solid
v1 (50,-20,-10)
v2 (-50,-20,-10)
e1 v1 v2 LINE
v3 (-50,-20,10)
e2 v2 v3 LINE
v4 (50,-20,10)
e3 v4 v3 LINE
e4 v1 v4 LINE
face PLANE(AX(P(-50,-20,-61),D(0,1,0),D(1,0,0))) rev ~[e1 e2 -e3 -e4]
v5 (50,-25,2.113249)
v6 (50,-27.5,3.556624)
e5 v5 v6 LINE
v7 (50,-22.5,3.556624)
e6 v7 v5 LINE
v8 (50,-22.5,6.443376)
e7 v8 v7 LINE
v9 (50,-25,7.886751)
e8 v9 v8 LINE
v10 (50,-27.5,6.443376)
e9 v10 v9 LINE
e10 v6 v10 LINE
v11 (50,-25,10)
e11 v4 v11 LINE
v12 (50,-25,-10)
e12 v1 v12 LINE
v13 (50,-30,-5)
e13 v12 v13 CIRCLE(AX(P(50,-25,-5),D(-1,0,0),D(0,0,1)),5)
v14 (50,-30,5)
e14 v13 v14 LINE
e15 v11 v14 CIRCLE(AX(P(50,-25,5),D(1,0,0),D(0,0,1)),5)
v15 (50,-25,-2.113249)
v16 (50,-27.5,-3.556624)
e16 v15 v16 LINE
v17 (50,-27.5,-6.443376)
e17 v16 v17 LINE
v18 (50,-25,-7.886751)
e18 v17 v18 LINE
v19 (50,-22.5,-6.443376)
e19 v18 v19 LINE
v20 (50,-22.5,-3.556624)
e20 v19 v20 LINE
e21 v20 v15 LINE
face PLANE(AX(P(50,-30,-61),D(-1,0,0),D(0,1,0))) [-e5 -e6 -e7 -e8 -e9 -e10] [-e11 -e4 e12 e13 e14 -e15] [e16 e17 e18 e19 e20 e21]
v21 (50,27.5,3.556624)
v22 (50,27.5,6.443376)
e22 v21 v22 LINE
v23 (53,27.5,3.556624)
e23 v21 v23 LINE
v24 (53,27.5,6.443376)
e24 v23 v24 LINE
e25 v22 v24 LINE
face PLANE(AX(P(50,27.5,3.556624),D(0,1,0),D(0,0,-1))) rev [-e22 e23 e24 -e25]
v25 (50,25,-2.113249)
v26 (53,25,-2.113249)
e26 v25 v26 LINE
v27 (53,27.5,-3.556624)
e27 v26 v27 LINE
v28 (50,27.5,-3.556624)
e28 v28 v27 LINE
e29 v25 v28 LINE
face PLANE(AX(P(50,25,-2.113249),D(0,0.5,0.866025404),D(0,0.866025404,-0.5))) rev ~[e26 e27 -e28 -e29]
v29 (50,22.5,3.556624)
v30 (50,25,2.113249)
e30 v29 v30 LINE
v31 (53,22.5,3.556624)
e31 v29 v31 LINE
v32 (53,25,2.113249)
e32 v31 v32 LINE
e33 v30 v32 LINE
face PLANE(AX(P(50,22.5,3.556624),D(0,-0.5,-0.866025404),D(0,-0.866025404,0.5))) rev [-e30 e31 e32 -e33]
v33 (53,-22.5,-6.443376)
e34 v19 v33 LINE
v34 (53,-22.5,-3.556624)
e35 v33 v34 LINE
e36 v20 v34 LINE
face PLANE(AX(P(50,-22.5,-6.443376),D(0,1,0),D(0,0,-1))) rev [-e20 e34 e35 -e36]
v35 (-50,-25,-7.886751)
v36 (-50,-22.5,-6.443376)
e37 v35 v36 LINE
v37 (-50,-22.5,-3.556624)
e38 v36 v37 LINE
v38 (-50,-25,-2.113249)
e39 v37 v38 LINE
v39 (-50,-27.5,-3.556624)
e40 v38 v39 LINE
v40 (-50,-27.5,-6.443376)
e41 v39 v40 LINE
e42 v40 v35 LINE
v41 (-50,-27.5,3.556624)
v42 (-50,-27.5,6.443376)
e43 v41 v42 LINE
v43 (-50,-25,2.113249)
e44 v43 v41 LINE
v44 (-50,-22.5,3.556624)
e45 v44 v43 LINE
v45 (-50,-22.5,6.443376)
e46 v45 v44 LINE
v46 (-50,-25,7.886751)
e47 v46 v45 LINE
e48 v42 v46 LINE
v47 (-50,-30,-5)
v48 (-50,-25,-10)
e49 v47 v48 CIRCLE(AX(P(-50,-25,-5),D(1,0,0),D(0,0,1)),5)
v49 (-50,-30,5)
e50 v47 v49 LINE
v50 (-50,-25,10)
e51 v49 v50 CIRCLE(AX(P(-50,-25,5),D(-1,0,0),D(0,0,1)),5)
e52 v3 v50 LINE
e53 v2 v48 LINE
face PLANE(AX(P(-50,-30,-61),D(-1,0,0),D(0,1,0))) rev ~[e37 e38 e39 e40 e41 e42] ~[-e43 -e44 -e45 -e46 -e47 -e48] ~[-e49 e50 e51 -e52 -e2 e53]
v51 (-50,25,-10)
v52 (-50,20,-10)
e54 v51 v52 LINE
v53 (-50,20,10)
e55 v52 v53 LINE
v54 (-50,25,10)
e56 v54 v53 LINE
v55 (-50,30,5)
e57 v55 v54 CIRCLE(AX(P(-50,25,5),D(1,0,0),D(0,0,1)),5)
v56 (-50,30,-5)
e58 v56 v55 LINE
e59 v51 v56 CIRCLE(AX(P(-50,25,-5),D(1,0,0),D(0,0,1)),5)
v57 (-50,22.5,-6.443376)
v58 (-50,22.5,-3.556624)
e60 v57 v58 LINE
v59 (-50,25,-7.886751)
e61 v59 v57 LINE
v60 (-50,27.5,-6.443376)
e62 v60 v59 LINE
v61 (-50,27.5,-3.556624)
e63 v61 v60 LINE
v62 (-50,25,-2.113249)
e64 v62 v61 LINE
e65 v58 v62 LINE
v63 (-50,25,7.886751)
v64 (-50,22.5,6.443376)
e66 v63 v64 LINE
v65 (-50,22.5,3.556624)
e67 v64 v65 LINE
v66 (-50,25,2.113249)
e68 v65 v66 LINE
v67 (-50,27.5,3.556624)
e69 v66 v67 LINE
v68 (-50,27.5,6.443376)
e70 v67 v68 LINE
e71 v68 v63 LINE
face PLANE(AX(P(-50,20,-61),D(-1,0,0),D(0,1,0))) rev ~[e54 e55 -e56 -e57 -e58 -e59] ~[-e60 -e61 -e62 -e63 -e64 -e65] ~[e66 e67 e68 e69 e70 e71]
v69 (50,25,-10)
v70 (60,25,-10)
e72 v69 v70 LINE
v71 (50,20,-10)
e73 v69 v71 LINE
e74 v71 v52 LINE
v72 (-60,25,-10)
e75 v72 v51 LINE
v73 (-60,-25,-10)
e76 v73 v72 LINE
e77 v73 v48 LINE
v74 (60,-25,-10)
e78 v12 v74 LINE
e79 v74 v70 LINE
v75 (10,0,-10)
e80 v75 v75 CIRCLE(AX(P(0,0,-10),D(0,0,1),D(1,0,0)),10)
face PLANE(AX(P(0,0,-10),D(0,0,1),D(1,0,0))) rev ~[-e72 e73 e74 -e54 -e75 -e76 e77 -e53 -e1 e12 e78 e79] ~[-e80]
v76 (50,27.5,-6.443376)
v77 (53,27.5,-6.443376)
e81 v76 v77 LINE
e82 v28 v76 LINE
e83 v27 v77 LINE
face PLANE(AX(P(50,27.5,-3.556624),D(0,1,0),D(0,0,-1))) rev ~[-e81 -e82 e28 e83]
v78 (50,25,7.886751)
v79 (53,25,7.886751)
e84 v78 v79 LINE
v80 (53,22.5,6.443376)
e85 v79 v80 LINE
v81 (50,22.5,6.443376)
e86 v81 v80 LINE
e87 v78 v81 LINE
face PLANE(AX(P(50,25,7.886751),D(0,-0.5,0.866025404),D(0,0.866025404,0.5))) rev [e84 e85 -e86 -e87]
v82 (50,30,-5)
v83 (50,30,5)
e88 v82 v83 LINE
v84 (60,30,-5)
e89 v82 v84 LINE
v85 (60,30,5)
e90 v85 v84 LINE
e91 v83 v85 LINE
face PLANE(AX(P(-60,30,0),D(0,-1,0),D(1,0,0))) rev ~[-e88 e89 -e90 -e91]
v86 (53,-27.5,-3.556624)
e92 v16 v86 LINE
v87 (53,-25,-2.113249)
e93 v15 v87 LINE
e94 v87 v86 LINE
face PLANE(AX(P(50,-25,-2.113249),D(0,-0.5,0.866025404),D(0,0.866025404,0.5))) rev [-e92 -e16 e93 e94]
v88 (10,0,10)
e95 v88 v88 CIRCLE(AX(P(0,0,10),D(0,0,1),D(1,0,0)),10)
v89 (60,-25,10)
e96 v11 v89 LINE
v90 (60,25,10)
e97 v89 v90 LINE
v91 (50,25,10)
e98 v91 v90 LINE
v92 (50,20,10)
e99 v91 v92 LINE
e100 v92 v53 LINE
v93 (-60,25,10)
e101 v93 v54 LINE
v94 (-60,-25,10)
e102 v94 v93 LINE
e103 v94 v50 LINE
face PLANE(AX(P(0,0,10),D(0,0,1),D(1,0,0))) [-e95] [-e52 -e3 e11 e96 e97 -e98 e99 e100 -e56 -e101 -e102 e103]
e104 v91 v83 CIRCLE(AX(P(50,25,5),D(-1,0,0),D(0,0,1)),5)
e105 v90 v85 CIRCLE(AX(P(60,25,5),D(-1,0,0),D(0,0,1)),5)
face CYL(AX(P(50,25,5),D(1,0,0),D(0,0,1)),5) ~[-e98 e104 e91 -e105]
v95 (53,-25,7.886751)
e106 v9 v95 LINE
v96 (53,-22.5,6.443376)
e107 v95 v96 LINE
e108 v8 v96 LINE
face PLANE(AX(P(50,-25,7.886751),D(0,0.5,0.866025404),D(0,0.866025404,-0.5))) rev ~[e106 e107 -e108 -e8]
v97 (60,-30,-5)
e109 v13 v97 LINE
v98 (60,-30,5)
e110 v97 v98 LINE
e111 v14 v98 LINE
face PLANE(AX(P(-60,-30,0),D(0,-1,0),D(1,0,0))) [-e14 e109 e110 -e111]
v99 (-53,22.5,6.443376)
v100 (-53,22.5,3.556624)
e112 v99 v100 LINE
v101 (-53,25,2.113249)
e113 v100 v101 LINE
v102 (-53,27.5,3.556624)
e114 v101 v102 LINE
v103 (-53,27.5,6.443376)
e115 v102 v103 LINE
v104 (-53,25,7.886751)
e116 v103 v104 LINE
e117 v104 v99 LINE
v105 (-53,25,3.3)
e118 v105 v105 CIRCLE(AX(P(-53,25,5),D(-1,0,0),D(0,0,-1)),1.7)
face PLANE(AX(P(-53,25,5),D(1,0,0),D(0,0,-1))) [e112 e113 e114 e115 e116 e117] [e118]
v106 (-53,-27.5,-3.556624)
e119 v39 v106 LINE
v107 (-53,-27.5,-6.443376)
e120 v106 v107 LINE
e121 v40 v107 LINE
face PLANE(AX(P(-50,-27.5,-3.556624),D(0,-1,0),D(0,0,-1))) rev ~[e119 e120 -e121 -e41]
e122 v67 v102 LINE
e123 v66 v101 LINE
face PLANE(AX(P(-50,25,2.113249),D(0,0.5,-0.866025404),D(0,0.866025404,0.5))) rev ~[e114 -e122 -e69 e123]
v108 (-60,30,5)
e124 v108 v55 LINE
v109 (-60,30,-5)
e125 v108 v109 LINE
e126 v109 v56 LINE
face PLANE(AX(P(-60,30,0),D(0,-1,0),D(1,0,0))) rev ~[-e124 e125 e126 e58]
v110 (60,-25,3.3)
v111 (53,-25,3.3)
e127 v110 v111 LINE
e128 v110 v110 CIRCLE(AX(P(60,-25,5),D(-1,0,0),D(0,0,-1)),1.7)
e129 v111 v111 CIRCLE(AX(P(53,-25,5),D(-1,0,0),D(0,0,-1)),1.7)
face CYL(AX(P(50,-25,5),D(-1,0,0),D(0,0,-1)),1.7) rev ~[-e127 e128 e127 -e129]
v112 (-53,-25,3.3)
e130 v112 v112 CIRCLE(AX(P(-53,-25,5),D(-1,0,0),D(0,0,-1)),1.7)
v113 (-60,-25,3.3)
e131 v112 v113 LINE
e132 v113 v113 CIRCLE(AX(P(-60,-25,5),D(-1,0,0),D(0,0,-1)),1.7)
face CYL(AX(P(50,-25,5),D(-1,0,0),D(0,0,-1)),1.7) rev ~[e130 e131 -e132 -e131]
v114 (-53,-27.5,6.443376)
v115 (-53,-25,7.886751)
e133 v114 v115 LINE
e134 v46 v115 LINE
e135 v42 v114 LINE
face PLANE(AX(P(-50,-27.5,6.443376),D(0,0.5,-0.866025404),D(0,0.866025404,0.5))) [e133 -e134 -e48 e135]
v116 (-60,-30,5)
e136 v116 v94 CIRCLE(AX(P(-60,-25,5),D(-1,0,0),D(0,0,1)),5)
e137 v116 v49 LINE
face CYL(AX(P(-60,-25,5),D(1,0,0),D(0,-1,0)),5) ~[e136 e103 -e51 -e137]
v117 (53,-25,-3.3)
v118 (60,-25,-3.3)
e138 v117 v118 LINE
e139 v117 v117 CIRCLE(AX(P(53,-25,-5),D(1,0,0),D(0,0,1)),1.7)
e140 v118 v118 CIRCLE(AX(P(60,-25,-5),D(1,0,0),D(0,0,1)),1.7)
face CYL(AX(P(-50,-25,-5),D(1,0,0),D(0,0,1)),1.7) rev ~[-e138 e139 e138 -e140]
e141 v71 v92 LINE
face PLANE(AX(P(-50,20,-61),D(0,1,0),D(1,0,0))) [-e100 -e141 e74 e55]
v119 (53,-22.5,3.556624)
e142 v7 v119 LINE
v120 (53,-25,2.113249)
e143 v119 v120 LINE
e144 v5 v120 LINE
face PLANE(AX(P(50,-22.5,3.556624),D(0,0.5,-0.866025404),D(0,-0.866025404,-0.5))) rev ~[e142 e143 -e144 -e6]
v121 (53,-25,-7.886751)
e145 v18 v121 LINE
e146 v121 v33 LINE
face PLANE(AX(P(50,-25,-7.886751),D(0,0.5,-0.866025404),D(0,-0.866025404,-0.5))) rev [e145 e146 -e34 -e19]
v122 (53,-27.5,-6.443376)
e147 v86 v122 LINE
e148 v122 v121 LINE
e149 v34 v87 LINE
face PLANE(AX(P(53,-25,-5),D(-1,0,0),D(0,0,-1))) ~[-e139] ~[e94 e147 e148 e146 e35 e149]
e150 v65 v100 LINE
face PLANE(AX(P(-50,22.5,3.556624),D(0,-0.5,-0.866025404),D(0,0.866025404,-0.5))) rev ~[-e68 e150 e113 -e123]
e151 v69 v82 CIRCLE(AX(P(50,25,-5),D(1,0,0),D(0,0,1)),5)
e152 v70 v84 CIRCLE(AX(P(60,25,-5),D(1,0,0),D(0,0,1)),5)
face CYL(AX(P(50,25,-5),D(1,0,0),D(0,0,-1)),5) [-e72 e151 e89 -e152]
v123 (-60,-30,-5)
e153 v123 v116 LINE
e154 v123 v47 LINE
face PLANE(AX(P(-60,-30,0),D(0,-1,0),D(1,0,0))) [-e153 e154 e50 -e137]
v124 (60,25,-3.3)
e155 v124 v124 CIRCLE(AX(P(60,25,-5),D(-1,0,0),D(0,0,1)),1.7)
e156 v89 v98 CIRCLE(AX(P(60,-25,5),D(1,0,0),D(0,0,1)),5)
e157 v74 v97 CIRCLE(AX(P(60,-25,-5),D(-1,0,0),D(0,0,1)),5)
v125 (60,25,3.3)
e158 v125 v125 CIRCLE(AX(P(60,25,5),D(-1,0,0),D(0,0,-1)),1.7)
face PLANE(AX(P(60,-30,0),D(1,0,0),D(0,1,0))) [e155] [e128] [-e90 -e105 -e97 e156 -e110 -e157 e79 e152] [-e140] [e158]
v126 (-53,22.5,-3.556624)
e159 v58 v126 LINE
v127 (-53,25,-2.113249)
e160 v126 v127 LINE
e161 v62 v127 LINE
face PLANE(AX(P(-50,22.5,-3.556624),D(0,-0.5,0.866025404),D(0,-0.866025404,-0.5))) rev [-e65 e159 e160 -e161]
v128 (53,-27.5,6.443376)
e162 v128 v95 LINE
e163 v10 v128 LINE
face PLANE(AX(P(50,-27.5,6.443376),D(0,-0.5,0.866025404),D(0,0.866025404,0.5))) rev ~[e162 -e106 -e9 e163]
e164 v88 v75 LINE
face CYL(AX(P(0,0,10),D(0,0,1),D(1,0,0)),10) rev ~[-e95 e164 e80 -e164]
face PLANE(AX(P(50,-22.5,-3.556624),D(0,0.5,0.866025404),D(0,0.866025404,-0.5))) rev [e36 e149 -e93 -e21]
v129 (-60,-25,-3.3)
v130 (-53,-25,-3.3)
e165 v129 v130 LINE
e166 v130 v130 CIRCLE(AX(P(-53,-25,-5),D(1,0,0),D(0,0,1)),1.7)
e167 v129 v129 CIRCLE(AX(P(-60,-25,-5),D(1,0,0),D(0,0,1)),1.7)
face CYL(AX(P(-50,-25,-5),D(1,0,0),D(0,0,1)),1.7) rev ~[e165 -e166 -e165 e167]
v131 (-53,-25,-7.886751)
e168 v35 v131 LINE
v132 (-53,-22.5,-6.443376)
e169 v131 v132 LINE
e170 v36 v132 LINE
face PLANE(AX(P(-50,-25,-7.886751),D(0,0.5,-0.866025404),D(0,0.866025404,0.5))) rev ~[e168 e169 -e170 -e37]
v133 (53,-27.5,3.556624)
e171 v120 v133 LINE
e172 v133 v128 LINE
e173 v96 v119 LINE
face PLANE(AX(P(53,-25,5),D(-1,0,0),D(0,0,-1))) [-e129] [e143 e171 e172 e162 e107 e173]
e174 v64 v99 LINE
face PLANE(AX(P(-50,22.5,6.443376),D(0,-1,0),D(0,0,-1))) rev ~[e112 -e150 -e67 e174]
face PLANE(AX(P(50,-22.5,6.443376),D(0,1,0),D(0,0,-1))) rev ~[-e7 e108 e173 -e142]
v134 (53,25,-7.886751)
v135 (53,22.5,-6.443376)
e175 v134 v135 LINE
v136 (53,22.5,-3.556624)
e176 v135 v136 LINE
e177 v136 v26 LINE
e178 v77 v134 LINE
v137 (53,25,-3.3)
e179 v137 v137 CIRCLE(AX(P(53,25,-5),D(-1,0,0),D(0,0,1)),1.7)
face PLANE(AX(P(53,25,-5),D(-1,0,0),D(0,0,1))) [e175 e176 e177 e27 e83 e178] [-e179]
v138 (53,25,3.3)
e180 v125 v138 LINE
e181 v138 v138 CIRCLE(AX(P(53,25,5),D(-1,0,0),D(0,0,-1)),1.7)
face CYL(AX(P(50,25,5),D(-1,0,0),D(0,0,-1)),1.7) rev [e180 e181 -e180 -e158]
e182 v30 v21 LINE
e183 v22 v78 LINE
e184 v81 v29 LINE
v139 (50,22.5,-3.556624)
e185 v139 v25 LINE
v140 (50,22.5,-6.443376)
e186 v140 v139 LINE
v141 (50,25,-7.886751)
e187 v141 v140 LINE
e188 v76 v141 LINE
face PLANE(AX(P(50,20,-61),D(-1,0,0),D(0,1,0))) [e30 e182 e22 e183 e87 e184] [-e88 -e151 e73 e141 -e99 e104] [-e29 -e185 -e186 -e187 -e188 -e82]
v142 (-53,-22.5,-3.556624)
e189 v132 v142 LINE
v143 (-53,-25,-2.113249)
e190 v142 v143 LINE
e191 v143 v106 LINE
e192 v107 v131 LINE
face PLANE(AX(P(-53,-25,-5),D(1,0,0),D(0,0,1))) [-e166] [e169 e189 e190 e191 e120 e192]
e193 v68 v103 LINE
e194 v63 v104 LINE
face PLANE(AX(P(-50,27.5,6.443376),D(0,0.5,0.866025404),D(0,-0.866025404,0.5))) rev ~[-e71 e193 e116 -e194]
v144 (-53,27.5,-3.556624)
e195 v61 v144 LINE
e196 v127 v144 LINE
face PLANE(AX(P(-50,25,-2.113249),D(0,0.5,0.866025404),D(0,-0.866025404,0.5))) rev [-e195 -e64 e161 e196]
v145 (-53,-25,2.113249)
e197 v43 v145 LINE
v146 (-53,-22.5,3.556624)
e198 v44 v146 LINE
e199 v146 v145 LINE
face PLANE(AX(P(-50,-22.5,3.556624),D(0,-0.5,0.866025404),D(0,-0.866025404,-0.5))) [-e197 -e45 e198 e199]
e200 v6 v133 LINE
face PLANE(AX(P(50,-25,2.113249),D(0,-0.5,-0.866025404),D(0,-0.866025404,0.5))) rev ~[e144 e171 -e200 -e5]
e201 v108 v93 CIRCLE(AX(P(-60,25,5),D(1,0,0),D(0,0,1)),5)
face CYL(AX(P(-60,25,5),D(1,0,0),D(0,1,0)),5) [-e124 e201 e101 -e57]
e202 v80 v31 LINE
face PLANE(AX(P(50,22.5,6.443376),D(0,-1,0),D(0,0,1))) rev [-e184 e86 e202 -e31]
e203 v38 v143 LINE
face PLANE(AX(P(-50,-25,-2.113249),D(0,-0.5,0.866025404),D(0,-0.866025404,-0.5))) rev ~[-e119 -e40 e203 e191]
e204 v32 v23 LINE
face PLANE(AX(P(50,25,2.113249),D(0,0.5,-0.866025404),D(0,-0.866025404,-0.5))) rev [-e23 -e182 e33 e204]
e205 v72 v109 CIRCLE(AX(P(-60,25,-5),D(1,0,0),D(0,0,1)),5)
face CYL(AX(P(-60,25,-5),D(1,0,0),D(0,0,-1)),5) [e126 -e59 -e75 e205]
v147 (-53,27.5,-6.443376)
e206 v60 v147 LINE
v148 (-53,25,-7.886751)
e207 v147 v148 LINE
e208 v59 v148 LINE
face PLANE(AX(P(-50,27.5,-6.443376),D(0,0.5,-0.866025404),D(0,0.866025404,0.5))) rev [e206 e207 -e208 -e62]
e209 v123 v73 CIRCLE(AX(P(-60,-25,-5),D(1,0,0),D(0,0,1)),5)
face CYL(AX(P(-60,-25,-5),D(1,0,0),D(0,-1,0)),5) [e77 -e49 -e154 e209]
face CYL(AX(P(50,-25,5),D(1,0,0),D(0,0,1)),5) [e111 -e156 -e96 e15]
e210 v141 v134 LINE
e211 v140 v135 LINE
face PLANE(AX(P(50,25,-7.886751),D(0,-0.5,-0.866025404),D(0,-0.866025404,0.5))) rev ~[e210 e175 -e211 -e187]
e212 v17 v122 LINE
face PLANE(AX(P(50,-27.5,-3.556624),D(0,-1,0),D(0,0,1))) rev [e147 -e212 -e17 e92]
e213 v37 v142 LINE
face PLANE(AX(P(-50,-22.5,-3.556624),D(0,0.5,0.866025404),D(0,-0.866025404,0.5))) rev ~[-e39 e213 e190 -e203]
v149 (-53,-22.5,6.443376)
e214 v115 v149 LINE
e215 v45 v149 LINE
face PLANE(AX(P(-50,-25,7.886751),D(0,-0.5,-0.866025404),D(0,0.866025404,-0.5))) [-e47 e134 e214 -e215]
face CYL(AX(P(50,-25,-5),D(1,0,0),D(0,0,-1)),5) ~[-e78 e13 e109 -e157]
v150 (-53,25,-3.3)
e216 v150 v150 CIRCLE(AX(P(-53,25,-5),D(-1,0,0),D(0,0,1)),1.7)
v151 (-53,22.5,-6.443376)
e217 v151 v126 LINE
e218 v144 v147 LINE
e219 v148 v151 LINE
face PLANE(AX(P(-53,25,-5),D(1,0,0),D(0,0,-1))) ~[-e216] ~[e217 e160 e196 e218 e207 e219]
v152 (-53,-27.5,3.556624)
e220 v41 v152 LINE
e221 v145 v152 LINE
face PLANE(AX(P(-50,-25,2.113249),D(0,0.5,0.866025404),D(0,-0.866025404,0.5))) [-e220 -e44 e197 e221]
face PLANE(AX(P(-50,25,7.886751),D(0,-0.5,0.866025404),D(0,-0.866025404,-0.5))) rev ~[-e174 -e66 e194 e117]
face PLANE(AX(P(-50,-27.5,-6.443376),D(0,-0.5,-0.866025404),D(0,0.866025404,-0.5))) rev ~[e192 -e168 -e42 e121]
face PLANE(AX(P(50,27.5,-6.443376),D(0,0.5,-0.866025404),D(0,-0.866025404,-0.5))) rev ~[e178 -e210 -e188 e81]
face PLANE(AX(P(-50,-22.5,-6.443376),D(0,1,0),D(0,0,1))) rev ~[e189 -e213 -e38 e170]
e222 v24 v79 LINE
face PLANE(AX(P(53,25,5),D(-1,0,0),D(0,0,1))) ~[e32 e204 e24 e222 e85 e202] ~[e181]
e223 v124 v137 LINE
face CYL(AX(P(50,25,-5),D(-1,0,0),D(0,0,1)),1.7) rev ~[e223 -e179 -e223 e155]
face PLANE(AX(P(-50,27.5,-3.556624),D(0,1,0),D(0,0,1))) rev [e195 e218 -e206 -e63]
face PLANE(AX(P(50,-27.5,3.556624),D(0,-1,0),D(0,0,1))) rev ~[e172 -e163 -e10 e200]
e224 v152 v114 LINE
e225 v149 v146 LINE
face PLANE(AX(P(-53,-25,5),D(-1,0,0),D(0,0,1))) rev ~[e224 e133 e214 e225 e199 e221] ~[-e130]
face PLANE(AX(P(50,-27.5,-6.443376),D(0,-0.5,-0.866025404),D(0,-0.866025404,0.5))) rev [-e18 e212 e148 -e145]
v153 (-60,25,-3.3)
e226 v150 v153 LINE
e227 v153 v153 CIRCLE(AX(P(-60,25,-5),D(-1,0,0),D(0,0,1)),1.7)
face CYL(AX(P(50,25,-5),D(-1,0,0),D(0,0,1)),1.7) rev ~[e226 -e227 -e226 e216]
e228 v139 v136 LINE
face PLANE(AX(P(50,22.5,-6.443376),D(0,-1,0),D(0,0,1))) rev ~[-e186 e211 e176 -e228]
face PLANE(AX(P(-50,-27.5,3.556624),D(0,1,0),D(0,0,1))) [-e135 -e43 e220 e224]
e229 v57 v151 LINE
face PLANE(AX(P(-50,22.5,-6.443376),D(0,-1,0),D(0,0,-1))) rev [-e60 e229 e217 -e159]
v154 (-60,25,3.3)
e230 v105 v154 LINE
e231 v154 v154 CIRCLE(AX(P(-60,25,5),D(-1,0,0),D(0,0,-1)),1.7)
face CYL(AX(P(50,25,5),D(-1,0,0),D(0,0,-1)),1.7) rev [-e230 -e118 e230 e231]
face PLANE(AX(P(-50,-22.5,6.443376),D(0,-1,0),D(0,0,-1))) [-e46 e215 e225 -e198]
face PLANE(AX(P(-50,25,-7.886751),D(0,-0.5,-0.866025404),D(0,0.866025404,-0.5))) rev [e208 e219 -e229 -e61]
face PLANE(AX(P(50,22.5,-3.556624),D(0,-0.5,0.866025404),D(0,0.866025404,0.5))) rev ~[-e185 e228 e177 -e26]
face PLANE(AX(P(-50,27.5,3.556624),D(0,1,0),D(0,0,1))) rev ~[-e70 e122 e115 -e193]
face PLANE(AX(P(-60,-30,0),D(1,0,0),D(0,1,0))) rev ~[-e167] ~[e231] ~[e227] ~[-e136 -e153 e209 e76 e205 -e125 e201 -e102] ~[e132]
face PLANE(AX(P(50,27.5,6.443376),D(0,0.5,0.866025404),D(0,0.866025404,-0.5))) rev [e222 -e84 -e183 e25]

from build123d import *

# Parameters (mm, degrees)
SKETCH1_W                                  = 120
SKETCH1_H                                  = 60
BOSS_EXTRUDE1_DEPTH                        = 10
CUT_EXTRUDE1_DEPTH                         = 71
CUT_EXTRUDE1_DEPTH_BACK                    = 71
SKETCH2_W                                  = 100
SKETCH2_H                                  = 10
FILLET1_R                                  = 5
SKETCH4_R                                  = 1.7
CUT_EXTRUDE3_DEPTH                         = 115.455231423
CUT_EXTRUDE4_DEPTH                         = 3
MIRROR1_AT_THE_SECOND_PLANE_COPY_1_SKETC_R = 1.7
MIRROR1_AT_THE_SECOND_PLANE_COPY_1_DEPTH   = 115.455231423
MIRROR1_AT_THE_SECOND_PLANE_COPY_2_DEPTH   = 3
MIRROR2_COPY_1_SKETCH_R                    = 1.7
MIRROR2_COPY_1_DEPTH                       = 115.455231423
MIRROR2_COPY_2_DEPTH                       = 3
MIRROR2_COPY_3_SKETCH_R                    = 1.7
MIRROR2_COPY_3_DEPTH                       = 115.455231423
MIRROR2_COPY_4_DEPTH                       = 3
MIRROR2_COPY_5_SKETCH_R                    = 1.7
MIRROR2_COPY_5_DEPTH                       = 115.455231423
MIRROR2_COPY_6_DEPTH                       = 3
MIRROR2_COPY_7_SKETCH_R                    = 1.7
MIRROR2_COPY_7_DEPTH                       = 115.455231423
SKETCH6_R                                  = 10
CUT_EXTRUDE5_DEPTH                         = 71


with BuildPart() as part:
    # Sketch1 → Boss-Extrude1 (new, symmetric)
    with BuildSketch(Plane.XY):
        Rectangle(SKETCH1_W, SKETCH1_H)
    extrude(amount=BOSS_EXTRUDE1_DEPTH, both=True)

    # Sketch2 → Cut-Extrude1 (cut, two sides: drawn at the far end of the back side and taken through both)
    with BuildSketch(Plane.XY.offset(10).offset(-CUT_EXTRUDE1_DEPTH_BACK)):
        with Locations((0, -25)):
            Rectangle(SKETCH2_W, SKETCH2_H)
        with Locations((0, 25)):
            Rectangle(SKETCH2_W, SKETCH2_H)
    extrude(amount=CUT_EXTRUDE1_DEPTH + CUT_EXTRUDE1_DEPTH_BACK, mode=Mode.SUBTRACT)

    # Fillet1
    fillet1_edges = [part.edges().sort_by_distance(p)[0] for p in [
        (55, -30, -10),
        (-55, 30, -10),
        (-55, -30, 10),
        (-55, 30, 10),
        (55, -30, 10),
        (-55, -30, -10),
        (55, 30, -10),
        (55, 30, 10),
    ]]
    fillet(fillet1_edges, radius=FILLET1_R)

    # Sketch4 → Cut-Extrude3 (cut, symmetric)
    with BuildSketch(Plane.ZY.offset(-50)):
        with Locations((-5, 25)):
            Circle(SKETCH4_R)
    cut_extrude3 = extrude(amount=CUT_EXTRUDE3_DEPTH, both=True, mode=Mode.SUBTRACT)

    # Sketch5 → Cut-Extrude4 (cut)
    with BuildSketch(Plane.ZY.offset(-50)):
        Polygon((-7.886751346, 25), (-6.443375673, 22.5), (-3.556624327, 22.5), (-2.113248654, 25), (-3.556624327, 27.5), (-6.443375673, 27.5), align=None)
    cut_extrude4 = extrude(amount=-CUT_EXTRUDE4_DEPTH, mode=Mode.SUBTRACT)

    # Mirror1: Cut-Extrude3, Cut-Extrude4 across plane
    add(cut_extrude3.mirror(Plane(origin=(0, 0, 0), x_dir=(0, 0, 1), z_dir=(1, 0, 0))), mode=Mode.SUBTRACT)
    add(cut_extrude4.mirror(Plane(origin=(0, 0, 0), x_dir=(0, 0, 1), z_dir=(1, 0, 0))), mode=Mode.SUBTRACT)

    # Mirror1 at the second plane: Cut-Extrude3, Cut-Extrude4 across plane
    add(cut_extrude3.mirror(Plane.XY), mode=Mode.SUBTRACT)
    add(cut_extrude4.mirror(Plane.XY), mode=Mode.SUBTRACT)

    # Mirror1 at the second plane copy 1 sketc → Mirror1 at the second plane copy 1 (cut, symmetric)
    with BuildSketch(Plane(origin=(-50, 0, 0), x_dir=(0, 0, -1), z_dir=(1, 0, 0))):
        with Locations((-5, 25)):
            Circle(MIRROR1_AT_THE_SECOND_PLANE_COPY_1_SKETC_R)
    extrude(amount=MIRROR1_AT_THE_SECOND_PLANE_COPY_1_DEPTH, both=True, mode=Mode.SUBTRACT)

    # Mirror1 at the second plane copy 2 sketc → Mirror1 at the second plane copy 2 (cut)
    with BuildSketch(Plane(origin=(-50, 0, 0), x_dir=(0, 0, -1), z_dir=(1, 0, 0))):
        Polygon((-7.886751346, 25), (-6.443375673, 22.5), (-3.556624327, 22.5), (-2.113248654, 25), (-3.556624327, 27.5), (-6.443375673, 27.5), align=None)
    extrude(amount=-MIRROR1_AT_THE_SECOND_PLANE_COPY_2_DEPTH, mode=Mode.SUBTRACT)

    # Mirror2: Cut-Extrude4 across plane
    add(cut_extrude4.mirror(Plane.ZX), mode=Mode.SUBTRACT)

    # Mirror2 copy 1 sketch → Mirror2 copy 1 (cut, symmetric)
    with BuildSketch(Plane(origin=(-50, 0, 0), x_dir=(0, 0, 1), z_dir=(1, 0, 0))):
        with Locations((-5, 25)):
            Circle(MIRROR2_COPY_1_SKETCH_R)
    extrude(amount=MIRROR2_COPY_1_DEPTH, both=True, mode=Mode.SUBTRACT)

    # Mirror2 copy 2 sketch → Mirror2 copy 2 (cut)
    with BuildSketch(Plane(origin=(-50, 0, 0), x_dir=(0, 0, 1), z_dir=(1, 0, 0))):
        Polygon((-7.886751346, 25), (-6.443375673, 22.5), (-3.556624327, 22.5), (-2.113248654, 25), (-3.556624327, 27.5), (-6.443375673, 27.5), align=None)
    extrude(amount=-MIRROR2_COPY_2_DEPTH, mode=Mode.SUBTRACT)

    # Mirror2 copy 3 sketch → Mirror2 copy 3 (cut, symmetric)
    with BuildSketch(Plane(origin=(50, 0, 0), x_dir=(0, 0, -1), z_dir=(-1, 0, 0))):
        with Locations((-5, 25)):
            Circle(MIRROR2_COPY_3_SKETCH_R)
    extrude(amount=MIRROR2_COPY_3_DEPTH, both=True, mode=Mode.SUBTRACT)

    # Mirror2 copy 4 sketch → Mirror2 copy 4 (cut)
    with BuildSketch(Plane(origin=(50, 0, 0), x_dir=(0, 0, -1), z_dir=(-1, 0, 0))):
        Polygon((-7.886751346, 25), (-6.443375673, 22.5), (-3.556624327, 22.5), (-2.113248654, 25), (-3.556624327, 27.5), (-6.443375673, 27.5), align=None)
    extrude(amount=-MIRROR2_COPY_4_DEPTH, mode=Mode.SUBTRACT)

    # Mirror2 copy 5 sketch → Mirror2 copy 5 (cut, symmetric)
    with BuildSketch(Plane(origin=(-50, 0, 0), x_dir=(0, 0, -1), z_dir=(1, 0, 0))):
        with Locations((-5, -25)):
            Circle(MIRROR2_COPY_5_SKETCH_R)
    extrude(amount=MIRROR2_COPY_5_DEPTH, both=True, mode=Mode.SUBTRACT)

    # Mirror2 copy 6 sketch → Mirror2 copy 6 (cut)
    with BuildSketch(Plane(origin=(-50, 0, 0), x_dir=(0, 0, -1), z_dir=(1, 0, 0))):
        Polygon((-7.886751346, -25), (-6.443375673, -22.5), (-3.556624327, -22.5), (-2.113248654, -25), (-3.556624327, -27.5), (-6.443375673, -27.5), align=None)
    extrude(amount=-MIRROR2_COPY_6_DEPTH, mode=Mode.SUBTRACT)

    # Mirror2 copy 7 sketch → Mirror2 copy 7 (cut, symmetric)
    with BuildSketch(Plane.ZY.offset(-50)):
        with Locations((-5, -25)):
            Circle(MIRROR2_COPY_7_SKETCH_R)
    extrude(amount=MIRROR2_COPY_7_DEPTH, both=True, mode=Mode.SUBTRACT)

    # Sketch6 → Cut-Extrude5 (cut, through all)
    with BuildSketch(Plane.XY.offset(10)):
        Circle(SKETCH6_R)
    extrude(amount=-CUT_EXTRUDE5_DEPTH, mode=Mode.SUBTRACT)


solid = part.part
